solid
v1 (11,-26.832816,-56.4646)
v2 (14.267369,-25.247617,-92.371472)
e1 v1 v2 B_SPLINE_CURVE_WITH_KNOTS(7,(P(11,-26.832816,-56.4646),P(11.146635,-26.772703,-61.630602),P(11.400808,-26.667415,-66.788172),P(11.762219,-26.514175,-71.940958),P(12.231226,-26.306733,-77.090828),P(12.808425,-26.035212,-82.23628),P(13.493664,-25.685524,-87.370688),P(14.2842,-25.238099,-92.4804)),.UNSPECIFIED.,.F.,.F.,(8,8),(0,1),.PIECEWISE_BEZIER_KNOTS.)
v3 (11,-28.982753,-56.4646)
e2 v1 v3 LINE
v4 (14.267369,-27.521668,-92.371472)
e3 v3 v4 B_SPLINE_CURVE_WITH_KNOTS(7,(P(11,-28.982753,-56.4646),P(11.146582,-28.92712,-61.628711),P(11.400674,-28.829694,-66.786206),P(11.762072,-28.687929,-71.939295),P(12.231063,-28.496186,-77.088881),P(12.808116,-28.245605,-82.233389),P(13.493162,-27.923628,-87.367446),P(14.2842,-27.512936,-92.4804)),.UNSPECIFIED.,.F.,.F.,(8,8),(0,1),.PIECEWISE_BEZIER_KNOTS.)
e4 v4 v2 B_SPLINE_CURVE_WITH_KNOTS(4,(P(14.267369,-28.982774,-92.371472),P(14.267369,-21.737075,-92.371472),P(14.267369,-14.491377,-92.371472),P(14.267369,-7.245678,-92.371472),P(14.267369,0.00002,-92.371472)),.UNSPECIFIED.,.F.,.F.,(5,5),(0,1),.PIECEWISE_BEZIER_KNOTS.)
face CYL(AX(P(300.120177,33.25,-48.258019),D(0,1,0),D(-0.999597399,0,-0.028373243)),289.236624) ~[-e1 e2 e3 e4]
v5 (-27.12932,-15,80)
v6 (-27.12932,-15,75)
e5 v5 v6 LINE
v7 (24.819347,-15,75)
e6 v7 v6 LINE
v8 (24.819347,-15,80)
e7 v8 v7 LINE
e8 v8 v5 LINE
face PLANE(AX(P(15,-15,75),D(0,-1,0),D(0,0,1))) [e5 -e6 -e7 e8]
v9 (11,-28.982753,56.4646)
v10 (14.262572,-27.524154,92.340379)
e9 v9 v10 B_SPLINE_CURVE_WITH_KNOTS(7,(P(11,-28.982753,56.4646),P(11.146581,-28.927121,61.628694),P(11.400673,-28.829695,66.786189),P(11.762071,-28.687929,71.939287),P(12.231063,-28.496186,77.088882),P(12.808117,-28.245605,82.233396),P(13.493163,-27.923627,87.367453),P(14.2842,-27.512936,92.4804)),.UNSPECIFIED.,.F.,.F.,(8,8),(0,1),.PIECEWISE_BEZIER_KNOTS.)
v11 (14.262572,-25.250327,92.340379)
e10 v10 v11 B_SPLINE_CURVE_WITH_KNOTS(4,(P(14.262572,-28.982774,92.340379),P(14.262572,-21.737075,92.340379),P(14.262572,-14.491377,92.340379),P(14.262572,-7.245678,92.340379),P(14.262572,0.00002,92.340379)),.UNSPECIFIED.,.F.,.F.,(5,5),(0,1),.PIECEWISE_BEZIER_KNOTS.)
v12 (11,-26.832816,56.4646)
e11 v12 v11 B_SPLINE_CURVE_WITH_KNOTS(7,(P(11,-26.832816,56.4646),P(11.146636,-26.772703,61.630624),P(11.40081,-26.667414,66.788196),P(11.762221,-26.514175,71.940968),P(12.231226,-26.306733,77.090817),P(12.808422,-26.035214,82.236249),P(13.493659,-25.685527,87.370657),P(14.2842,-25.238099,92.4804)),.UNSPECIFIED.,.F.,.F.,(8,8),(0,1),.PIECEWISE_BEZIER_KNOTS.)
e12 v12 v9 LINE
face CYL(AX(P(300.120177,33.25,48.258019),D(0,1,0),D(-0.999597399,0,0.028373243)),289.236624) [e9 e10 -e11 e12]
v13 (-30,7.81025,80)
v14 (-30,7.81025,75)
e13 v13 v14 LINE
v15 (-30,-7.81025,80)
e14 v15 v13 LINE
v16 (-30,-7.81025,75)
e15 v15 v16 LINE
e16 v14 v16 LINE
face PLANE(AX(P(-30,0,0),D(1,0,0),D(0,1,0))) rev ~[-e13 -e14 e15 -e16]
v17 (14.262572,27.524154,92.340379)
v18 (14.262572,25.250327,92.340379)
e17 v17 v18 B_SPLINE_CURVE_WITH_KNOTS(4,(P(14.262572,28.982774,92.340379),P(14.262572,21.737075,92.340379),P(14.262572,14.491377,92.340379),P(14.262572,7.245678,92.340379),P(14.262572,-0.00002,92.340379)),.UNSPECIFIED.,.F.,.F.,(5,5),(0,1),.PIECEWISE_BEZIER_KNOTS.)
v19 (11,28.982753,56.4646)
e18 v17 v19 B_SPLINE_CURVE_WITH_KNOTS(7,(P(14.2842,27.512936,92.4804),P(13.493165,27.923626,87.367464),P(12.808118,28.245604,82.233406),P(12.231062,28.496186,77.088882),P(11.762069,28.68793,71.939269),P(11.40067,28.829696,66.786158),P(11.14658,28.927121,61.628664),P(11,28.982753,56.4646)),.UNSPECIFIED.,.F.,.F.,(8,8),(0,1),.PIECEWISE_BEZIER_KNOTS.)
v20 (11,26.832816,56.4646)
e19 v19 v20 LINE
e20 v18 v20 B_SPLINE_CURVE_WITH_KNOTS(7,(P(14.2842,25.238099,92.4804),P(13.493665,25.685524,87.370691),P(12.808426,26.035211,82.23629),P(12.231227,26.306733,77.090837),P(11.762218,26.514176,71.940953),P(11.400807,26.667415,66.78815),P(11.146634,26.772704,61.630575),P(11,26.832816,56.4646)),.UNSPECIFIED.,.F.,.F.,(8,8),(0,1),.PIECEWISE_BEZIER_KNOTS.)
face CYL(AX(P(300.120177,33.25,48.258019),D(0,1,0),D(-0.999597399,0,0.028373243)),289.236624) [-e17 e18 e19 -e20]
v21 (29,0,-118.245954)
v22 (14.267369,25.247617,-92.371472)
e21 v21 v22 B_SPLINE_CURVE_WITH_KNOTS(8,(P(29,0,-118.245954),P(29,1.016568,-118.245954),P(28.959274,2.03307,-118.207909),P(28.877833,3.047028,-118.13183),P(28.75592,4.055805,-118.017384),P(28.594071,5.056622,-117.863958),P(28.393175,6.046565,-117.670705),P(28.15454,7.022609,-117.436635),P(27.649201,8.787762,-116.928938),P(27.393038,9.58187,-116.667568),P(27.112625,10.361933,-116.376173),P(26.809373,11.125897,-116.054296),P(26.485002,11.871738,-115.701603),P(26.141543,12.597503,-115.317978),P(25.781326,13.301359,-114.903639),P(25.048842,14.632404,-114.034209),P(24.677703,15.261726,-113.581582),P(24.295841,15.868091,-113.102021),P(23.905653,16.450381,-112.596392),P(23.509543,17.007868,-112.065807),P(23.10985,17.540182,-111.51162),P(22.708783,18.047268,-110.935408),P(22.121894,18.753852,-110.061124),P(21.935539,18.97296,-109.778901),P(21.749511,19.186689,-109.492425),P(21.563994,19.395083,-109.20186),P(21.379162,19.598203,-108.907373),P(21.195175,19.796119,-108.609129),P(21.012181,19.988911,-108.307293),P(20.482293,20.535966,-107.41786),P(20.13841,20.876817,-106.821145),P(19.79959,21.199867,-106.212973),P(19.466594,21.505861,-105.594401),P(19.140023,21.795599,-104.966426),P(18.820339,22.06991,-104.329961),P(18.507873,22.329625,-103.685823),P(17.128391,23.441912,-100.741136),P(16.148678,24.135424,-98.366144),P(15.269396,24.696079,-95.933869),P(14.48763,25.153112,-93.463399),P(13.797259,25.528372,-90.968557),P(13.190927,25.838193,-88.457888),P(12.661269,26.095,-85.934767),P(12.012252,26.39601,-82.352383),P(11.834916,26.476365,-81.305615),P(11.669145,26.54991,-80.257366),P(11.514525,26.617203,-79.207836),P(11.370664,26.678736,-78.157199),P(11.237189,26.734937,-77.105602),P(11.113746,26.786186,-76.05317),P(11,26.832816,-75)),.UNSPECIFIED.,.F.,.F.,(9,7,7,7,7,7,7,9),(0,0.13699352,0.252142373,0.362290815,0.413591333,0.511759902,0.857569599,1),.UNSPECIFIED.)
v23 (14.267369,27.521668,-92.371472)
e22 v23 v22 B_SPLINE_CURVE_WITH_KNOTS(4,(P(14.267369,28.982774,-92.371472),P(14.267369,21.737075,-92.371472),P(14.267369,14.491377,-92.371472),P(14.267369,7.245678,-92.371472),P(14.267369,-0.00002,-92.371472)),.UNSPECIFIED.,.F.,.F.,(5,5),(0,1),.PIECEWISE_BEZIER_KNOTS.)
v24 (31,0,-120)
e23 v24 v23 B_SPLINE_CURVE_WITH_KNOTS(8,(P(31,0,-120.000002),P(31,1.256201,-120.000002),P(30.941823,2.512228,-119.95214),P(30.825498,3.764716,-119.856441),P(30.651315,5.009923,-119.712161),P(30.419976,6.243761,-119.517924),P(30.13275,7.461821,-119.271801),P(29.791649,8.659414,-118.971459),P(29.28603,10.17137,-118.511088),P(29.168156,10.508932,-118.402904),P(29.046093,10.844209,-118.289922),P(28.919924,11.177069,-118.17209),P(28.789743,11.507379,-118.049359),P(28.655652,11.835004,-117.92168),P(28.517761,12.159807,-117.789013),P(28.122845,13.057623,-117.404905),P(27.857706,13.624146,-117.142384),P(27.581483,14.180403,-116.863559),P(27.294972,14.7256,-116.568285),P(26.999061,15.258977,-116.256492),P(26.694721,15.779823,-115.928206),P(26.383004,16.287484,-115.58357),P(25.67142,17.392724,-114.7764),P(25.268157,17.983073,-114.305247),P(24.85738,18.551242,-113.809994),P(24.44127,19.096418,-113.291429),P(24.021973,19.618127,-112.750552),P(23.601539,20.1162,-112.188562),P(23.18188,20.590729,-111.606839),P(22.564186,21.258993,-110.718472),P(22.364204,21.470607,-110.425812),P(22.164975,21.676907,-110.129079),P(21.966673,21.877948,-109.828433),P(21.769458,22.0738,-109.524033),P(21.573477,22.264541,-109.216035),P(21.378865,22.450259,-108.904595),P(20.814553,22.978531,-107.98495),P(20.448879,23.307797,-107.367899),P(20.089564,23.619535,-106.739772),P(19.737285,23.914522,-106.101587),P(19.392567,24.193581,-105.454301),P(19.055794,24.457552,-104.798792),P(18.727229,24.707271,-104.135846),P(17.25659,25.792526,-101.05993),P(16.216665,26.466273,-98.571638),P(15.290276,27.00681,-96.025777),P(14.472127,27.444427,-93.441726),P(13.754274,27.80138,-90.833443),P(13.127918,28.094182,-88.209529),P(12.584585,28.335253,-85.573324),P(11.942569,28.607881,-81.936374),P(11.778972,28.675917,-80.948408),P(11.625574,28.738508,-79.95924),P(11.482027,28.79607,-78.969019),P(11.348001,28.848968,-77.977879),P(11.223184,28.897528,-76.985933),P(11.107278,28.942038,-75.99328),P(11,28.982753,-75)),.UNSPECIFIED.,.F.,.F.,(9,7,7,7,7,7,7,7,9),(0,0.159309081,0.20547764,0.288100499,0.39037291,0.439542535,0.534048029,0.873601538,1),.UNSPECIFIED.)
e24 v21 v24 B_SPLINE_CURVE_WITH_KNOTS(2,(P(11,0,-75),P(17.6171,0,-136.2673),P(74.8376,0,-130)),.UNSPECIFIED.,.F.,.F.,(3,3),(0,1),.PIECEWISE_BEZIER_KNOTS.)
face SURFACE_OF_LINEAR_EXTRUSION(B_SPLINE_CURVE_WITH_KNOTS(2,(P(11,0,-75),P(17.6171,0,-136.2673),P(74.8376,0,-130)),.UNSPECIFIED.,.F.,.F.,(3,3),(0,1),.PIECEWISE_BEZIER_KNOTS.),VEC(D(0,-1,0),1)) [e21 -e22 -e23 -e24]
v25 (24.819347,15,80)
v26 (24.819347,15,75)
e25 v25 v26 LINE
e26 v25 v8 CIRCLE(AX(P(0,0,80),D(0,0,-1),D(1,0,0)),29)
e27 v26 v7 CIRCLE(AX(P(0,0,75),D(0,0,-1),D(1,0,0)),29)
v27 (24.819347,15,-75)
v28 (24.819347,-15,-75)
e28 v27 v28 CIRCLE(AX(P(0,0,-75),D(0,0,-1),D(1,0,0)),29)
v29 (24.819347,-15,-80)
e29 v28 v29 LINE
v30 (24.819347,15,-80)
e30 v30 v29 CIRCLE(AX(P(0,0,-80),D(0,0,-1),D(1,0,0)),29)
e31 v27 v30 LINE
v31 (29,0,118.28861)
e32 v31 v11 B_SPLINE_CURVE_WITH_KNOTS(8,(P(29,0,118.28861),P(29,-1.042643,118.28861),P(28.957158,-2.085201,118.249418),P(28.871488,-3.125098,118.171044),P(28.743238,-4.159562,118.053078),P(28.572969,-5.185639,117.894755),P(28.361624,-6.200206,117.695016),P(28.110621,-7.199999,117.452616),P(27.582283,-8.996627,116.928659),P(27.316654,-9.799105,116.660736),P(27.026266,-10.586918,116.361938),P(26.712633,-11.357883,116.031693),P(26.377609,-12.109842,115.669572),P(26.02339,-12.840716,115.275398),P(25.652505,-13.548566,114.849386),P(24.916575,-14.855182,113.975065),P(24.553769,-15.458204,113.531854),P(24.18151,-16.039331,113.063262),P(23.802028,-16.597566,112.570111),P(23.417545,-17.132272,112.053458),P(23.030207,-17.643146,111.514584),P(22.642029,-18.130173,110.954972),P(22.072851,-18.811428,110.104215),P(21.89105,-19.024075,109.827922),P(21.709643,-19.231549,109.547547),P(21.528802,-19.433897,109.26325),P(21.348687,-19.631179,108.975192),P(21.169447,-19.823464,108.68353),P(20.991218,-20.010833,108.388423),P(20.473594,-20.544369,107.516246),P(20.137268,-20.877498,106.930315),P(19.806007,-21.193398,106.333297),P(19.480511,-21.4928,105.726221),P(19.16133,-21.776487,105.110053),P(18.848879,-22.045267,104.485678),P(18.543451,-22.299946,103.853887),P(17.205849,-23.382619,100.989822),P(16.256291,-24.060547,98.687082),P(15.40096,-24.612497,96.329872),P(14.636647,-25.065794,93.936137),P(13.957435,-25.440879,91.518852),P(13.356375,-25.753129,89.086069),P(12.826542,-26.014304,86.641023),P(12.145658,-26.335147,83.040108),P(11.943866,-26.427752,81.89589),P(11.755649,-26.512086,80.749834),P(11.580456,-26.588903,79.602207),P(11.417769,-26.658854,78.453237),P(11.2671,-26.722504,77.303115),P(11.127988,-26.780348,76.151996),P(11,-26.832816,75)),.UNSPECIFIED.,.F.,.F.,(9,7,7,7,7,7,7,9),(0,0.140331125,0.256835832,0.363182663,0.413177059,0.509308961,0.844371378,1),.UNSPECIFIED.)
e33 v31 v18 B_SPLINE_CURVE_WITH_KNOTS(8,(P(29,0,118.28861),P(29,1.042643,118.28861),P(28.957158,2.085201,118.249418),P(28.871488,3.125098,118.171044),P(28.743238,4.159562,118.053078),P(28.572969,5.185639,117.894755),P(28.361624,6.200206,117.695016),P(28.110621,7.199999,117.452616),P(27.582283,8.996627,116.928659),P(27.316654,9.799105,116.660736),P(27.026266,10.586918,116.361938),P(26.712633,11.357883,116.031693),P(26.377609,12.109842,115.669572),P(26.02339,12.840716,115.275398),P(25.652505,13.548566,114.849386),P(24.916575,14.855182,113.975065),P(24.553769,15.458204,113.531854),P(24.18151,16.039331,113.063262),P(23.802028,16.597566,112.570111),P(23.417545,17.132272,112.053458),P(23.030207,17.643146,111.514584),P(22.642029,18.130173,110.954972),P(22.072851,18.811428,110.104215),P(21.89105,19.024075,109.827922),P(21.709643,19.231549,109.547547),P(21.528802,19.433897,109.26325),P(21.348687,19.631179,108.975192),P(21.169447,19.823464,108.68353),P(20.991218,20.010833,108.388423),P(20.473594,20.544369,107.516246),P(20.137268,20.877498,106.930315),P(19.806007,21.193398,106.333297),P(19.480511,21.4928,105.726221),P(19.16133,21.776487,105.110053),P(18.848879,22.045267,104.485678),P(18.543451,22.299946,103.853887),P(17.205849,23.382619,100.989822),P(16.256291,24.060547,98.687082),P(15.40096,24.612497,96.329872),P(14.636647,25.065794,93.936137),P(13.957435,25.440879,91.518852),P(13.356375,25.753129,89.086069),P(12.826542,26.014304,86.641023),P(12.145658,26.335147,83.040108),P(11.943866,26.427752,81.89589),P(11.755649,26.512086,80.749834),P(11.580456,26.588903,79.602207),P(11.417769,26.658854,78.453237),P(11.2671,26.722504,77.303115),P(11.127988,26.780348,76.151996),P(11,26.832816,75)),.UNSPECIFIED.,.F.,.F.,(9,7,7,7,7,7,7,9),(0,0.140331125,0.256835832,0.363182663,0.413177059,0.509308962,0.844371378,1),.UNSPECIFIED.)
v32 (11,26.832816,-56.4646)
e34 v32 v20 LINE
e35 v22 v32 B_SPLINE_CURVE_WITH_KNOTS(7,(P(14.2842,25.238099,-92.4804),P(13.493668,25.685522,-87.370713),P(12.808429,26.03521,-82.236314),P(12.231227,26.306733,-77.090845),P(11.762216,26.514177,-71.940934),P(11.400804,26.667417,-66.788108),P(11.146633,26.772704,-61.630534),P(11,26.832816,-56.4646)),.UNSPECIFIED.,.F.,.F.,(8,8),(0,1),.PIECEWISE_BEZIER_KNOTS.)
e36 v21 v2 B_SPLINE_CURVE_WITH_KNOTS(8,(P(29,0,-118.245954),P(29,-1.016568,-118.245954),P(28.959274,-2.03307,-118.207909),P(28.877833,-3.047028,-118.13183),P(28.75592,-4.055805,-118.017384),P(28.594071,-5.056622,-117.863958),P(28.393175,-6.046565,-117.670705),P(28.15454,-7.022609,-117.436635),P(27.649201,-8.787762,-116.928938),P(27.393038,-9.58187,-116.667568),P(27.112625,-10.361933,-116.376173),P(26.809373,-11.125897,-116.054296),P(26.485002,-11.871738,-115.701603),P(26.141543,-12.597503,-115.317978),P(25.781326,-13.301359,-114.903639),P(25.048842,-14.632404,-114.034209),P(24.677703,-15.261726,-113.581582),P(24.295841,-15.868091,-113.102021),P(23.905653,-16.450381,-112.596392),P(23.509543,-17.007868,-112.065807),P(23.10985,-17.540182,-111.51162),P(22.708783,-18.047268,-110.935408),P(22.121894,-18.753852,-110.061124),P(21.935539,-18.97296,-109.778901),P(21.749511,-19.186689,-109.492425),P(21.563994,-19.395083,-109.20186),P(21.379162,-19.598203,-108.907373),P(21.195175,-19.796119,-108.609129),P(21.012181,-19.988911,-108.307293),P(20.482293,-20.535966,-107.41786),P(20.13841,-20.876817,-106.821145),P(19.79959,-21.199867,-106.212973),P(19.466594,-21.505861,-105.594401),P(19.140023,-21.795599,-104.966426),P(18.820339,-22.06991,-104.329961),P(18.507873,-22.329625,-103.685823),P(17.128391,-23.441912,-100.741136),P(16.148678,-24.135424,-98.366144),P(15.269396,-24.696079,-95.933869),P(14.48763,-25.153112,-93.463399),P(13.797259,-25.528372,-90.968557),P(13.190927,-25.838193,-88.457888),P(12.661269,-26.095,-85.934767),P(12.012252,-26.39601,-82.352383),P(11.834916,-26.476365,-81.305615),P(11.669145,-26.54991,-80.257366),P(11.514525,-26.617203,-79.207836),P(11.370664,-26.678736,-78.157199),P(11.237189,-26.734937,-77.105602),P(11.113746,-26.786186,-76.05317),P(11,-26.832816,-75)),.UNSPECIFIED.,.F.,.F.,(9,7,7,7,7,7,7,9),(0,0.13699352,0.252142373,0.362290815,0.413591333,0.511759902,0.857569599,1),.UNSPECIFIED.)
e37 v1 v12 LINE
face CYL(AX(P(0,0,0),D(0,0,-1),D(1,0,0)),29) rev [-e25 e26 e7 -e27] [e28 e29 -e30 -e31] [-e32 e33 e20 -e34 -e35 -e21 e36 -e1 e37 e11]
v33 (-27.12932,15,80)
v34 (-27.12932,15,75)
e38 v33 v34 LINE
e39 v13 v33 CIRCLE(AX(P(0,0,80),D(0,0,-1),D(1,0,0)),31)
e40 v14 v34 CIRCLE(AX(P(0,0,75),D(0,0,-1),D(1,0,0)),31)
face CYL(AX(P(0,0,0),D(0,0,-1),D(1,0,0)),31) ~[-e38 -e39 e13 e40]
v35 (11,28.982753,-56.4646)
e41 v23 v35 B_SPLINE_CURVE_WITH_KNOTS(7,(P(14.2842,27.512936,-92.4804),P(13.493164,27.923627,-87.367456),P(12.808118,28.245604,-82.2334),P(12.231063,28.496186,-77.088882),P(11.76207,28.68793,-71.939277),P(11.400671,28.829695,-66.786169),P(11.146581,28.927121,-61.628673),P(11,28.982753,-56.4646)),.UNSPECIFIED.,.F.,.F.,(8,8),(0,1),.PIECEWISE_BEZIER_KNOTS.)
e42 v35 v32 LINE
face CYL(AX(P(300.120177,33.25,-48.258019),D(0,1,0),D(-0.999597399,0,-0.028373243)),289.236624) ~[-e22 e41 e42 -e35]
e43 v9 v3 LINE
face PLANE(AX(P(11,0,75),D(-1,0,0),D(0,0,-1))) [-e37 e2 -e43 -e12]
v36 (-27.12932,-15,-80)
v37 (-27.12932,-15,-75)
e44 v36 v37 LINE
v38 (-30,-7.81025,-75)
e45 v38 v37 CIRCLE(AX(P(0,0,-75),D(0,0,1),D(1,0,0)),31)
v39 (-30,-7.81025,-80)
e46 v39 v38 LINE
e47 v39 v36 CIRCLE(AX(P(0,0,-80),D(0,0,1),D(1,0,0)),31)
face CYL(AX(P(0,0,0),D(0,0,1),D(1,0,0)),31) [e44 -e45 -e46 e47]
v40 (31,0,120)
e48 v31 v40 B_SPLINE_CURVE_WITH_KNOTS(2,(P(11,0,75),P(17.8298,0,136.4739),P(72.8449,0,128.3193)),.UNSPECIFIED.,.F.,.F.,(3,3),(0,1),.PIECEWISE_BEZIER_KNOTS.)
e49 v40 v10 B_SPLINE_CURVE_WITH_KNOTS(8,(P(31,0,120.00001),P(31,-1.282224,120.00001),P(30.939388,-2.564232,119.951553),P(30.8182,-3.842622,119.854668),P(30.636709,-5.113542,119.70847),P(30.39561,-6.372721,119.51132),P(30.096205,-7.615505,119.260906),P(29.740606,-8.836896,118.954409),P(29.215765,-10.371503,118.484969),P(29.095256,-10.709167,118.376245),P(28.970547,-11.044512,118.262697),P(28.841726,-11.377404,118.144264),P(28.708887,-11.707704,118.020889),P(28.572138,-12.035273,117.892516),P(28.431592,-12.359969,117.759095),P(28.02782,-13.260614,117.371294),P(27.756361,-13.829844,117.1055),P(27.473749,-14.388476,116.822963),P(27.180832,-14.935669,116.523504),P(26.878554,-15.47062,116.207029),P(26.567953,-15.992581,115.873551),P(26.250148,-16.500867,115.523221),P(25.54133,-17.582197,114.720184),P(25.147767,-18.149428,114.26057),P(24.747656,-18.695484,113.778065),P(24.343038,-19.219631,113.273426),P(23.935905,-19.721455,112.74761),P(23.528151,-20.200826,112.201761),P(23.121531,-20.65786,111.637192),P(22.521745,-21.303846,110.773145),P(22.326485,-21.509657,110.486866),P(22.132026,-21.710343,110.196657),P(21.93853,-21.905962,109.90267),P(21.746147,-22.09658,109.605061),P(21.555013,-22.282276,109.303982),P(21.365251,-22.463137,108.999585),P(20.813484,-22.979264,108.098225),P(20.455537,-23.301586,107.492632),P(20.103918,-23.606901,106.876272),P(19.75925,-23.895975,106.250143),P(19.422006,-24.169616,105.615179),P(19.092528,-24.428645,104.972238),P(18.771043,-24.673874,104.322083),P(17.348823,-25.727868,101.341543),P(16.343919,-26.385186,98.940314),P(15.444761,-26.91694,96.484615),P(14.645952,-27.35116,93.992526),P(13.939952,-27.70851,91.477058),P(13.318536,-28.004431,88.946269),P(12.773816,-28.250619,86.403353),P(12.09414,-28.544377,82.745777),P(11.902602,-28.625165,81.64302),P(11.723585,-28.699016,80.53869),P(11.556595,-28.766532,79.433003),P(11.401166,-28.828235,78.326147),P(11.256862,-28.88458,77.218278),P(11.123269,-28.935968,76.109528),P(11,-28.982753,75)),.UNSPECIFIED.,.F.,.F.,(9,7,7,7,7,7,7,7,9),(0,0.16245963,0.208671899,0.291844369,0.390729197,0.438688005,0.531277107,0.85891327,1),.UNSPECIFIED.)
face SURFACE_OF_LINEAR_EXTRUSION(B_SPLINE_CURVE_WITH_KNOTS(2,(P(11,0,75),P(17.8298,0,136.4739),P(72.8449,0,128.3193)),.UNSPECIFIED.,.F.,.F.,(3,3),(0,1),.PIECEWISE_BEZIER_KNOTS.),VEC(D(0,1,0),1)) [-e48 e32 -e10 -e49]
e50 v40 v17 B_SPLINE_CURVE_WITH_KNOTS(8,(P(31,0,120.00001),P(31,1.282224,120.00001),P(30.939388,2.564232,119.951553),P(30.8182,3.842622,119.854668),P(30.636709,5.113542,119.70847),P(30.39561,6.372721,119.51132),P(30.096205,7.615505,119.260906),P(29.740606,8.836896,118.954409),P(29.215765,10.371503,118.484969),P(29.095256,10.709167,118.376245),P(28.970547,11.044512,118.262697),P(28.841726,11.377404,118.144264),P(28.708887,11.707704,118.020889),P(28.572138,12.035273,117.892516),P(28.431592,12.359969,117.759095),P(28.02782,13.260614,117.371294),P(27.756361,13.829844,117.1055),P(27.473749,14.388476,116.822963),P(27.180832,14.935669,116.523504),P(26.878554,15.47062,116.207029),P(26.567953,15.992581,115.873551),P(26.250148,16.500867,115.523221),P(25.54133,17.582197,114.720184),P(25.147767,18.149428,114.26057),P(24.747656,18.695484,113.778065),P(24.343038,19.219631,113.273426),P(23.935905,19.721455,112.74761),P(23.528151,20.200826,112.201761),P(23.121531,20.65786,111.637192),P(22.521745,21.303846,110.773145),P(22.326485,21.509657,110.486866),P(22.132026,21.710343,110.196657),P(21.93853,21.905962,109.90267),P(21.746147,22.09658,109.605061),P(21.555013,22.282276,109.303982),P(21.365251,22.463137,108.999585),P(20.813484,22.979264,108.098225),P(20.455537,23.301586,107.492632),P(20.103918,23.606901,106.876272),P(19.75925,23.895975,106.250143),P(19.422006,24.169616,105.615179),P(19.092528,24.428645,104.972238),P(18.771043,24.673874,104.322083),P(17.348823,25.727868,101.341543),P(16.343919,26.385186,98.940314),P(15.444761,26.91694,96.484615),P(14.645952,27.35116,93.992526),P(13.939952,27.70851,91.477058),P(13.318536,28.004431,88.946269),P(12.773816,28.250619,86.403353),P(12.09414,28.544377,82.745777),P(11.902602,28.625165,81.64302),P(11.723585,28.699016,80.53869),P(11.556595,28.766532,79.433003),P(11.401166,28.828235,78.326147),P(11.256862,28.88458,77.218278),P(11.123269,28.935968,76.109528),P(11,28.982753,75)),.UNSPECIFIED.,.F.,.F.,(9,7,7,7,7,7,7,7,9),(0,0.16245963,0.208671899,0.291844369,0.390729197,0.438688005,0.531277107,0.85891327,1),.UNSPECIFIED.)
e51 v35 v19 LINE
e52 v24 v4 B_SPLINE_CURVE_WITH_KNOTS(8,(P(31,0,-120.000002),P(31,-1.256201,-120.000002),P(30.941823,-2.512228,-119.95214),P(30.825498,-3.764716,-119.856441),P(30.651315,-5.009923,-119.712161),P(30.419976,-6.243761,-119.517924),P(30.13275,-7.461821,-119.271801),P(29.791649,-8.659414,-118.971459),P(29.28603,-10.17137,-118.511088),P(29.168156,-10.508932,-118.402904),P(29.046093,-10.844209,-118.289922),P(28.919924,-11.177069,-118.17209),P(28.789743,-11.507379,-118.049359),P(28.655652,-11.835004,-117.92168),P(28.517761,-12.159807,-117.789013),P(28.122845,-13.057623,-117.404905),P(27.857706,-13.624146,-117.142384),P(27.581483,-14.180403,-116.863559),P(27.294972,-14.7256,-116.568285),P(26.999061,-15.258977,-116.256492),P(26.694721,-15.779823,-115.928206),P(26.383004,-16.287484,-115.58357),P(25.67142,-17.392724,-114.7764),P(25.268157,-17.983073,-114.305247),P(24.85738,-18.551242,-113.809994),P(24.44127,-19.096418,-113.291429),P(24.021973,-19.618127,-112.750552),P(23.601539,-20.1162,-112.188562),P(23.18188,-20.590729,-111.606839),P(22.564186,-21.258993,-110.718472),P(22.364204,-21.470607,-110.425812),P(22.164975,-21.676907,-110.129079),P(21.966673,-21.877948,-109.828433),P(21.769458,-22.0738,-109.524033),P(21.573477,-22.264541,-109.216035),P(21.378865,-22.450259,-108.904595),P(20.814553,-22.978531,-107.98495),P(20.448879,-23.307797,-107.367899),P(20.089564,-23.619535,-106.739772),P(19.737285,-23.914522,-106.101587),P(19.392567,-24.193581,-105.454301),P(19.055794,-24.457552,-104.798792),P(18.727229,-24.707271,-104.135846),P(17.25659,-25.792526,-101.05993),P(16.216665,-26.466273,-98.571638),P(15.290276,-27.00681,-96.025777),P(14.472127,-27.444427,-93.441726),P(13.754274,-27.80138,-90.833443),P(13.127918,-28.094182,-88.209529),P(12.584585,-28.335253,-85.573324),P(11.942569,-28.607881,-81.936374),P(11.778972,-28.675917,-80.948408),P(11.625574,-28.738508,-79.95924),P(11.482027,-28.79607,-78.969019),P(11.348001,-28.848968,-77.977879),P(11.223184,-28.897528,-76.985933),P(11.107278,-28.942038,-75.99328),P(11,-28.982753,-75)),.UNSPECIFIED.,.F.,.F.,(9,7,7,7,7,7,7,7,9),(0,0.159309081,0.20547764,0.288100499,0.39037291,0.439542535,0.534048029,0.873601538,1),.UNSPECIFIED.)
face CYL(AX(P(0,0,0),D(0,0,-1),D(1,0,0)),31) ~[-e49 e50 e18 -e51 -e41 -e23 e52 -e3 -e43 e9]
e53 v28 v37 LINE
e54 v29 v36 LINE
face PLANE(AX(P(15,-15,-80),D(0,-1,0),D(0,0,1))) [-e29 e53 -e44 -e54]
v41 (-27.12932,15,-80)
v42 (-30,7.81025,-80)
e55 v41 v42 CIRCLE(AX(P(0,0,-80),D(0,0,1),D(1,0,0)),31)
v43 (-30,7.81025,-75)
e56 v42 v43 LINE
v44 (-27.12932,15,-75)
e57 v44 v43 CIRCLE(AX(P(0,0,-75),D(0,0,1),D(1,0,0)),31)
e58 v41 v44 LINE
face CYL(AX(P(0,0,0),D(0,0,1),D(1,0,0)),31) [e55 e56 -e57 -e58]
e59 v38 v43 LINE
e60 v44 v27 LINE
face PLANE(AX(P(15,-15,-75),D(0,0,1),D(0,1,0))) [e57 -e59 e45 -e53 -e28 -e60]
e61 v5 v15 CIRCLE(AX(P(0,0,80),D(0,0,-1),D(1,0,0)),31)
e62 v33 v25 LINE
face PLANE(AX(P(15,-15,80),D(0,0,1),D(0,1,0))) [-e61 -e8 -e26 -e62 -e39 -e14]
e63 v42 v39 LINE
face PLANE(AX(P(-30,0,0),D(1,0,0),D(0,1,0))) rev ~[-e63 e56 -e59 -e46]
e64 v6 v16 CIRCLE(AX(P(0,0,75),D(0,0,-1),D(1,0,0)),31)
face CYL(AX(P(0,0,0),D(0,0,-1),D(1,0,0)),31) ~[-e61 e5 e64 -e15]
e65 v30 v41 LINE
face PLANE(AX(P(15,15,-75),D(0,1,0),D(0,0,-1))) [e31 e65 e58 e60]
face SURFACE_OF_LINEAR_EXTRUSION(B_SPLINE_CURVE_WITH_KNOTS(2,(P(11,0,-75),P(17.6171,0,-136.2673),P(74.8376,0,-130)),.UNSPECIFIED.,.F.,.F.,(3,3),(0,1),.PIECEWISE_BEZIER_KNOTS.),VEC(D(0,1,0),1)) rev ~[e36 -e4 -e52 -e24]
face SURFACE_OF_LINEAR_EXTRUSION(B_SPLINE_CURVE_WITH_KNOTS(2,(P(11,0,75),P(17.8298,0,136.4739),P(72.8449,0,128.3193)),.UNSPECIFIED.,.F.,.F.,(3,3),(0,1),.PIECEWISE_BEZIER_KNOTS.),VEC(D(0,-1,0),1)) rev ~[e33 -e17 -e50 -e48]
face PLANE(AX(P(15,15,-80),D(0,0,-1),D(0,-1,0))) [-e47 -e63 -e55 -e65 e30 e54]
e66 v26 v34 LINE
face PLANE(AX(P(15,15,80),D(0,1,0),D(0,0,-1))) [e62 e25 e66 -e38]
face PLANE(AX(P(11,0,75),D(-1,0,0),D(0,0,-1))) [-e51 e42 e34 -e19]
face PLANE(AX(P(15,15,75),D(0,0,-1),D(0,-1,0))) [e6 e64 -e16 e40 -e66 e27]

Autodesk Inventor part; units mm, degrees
ref_plane "XY Plane" through (0, 0, 0) normal (0, 0, 1) x (1, 0, 0)
sketch "Skizze1" plane through (0, 0, 0) normal (0, 0, 1) x (1, 0, 0)
  circle A0 centre (0, 0) radius 31
  circle A1 centre (0, 0) radius 29
  dimension "d0" = 62
  dimension "d1" = 58
extrude "Extrusion1" add sketch "Skizze1" along normal mid plane 300
sketch "Skizze2" plane through (0, 0, 0) normal (0, 1, 0) x (-1, 0, 0)
  line L0 (-11, 169.5773) -> (-11, -169.8146) construction
  line L1 (-74.8376, 0) -> (82.6362, 0) construction
  line L2 (-11, 75) -> (-11, -75)
  line L3 (-31, -150) -> (-31, 150) projected
  line L4 (31, 150) -> (-31, 150) projected
  line L5 (-31, -150) -> (31, -150) projected
  spline S0 degree 2 poles (-11, 75) (-17.8298, 136.4739) (-72.8449, 128.3193) knots 0 0 0 1 1 1
  spline S1 degree 2 poles (-11, -75) (-17.6171, -136.2673) (-74.8376, -130) knots 0 0 0 1 1 1
  line L6 (-72.8449, 128.3193) -> (-74.8376, -130)
  line L7 (-31, 120) -> (-31, 150)
  line L8 (-31, 150) -> (31, 150)
  line L9 (31, 150) -> (31, -150)
  line L10 (31, -150) -> (31, 150) projected
  line L11 (31, -150) -> (-31, -150)
  line L12 (-31, -150) -> (-31, -120)
  point P0 (0, 0)
  dimension "d4" = 11
  dimension "d5" = 150
  dimension "d6" = 30
  dimension "d7" = 30
extrude "Extrusion3" cut sketch "Skizze2" along normal mid plane 100 contours S0 L3 L4 L9 L5 S1 L2
ref_plane "Arbeitsebene3" through (0, 33.25, 0) normal (0, 1, 0) x (-1, 0, 0)
sketch "Skizze8" plane through (0, 33.25, 0) normal (0, 1, 0) x (-1, 0, 0)
  line L0 (-11, -75) -> (-11, 75) projected
  arc A0 (-11, 56.4646) -> (-14.2842, 92.4804) centre (-300.1138, 48.2584) ccw
  arc A1 (-11, 56.4646) -> (-14.2842, 92.4804) centre (-31.6354, 72.7405) ccw
  point P0 (0, 0)
extrude "Extrusion6" cut sketch "Skizze8" against normal blind 65
mirror "Spiegeln2" about plane through (0, 0, 0) normal (0, 0, 1) of "Extrusion6"
ref_plane "Arbeitsebene7" through (15, 0, 0) normal (1, 0, 0) x (0, 1, 0)
sketch "Skizze13" plane through (15, 0, 0) normal (1, 0, 0) x (0, 1, 0)
  line L0 (-18, 80) -> (-15, 80)
  line L1 (-15, 80) -> (-15, -80)
  line L2 (-15, -80) -> (-18, -80)
  line L3 (-18, -80) -> (-18, 80)
  line L4 (15, 80) -> (18, 80)
  line L5 (18, 80) -> (18, -80)
  line L6 (18, -80) -> (15, -80)
  line L7 (15, -80) -> (15, 80)
  line L8 (0, 161.0458) -> (0, -181.8657) construction
  line L9 (-78.3289, 0) -> (67.3027, 0) construction
  point P0 (0, 0)
  dimension "d66" = 30
  dimension "d67" = 3
  dimension "d68" = 3
  dimension "d69" = 160
extrude "Extrusion11" [suppressed]
sketch "Skizze14" plane through (15, 0, 0) normal (1, 0, 0) x (0, 1, 0)
  line L0 (-51.8177, 0) -> (40.0312, 0) construction
  line L1 (0, 87.1429) -> (0, -189.8015) construction
  line L2 (-15, 80) -> (15, 80)
  line L3 (15, 80) -> (15, 75)
  line L4 (15, 75) -> (-15, 75)
  line L5 (-15, 75) -> (-15, 80)
  line L6 (-15, -75) -> (15, -75)
  line L7 (15, -75) -> (15, -80)
  line L8 (15, -80) -> (-15, -80)
  line L9 (-15, -80) -> (-15, -75)
  point P0 (0, 0)
  dimension "d72" = 5
  dimension "d73" = 5
  dimension "d74" = 150
  dimension "d75" = 30
  dimension "d76" = 30
extrude "Extrusion12" add sketch "Skizze14" against normal blind 45
extrude "Extrusion13" add sketch "Skizze14" along normal blind 15
sketch "Skizze15" plane through (0, 0, 0) normal (0, 0, 1) x (1, 0, 0)
  circle A0 centre (0, 0) radius 31
  circle A1 centre (0, 0) radius 35.4738
extrude "Extrusion14" cut sketch "Skizze15" along normal mid plane 250
properties part number "_3D-Druck"
